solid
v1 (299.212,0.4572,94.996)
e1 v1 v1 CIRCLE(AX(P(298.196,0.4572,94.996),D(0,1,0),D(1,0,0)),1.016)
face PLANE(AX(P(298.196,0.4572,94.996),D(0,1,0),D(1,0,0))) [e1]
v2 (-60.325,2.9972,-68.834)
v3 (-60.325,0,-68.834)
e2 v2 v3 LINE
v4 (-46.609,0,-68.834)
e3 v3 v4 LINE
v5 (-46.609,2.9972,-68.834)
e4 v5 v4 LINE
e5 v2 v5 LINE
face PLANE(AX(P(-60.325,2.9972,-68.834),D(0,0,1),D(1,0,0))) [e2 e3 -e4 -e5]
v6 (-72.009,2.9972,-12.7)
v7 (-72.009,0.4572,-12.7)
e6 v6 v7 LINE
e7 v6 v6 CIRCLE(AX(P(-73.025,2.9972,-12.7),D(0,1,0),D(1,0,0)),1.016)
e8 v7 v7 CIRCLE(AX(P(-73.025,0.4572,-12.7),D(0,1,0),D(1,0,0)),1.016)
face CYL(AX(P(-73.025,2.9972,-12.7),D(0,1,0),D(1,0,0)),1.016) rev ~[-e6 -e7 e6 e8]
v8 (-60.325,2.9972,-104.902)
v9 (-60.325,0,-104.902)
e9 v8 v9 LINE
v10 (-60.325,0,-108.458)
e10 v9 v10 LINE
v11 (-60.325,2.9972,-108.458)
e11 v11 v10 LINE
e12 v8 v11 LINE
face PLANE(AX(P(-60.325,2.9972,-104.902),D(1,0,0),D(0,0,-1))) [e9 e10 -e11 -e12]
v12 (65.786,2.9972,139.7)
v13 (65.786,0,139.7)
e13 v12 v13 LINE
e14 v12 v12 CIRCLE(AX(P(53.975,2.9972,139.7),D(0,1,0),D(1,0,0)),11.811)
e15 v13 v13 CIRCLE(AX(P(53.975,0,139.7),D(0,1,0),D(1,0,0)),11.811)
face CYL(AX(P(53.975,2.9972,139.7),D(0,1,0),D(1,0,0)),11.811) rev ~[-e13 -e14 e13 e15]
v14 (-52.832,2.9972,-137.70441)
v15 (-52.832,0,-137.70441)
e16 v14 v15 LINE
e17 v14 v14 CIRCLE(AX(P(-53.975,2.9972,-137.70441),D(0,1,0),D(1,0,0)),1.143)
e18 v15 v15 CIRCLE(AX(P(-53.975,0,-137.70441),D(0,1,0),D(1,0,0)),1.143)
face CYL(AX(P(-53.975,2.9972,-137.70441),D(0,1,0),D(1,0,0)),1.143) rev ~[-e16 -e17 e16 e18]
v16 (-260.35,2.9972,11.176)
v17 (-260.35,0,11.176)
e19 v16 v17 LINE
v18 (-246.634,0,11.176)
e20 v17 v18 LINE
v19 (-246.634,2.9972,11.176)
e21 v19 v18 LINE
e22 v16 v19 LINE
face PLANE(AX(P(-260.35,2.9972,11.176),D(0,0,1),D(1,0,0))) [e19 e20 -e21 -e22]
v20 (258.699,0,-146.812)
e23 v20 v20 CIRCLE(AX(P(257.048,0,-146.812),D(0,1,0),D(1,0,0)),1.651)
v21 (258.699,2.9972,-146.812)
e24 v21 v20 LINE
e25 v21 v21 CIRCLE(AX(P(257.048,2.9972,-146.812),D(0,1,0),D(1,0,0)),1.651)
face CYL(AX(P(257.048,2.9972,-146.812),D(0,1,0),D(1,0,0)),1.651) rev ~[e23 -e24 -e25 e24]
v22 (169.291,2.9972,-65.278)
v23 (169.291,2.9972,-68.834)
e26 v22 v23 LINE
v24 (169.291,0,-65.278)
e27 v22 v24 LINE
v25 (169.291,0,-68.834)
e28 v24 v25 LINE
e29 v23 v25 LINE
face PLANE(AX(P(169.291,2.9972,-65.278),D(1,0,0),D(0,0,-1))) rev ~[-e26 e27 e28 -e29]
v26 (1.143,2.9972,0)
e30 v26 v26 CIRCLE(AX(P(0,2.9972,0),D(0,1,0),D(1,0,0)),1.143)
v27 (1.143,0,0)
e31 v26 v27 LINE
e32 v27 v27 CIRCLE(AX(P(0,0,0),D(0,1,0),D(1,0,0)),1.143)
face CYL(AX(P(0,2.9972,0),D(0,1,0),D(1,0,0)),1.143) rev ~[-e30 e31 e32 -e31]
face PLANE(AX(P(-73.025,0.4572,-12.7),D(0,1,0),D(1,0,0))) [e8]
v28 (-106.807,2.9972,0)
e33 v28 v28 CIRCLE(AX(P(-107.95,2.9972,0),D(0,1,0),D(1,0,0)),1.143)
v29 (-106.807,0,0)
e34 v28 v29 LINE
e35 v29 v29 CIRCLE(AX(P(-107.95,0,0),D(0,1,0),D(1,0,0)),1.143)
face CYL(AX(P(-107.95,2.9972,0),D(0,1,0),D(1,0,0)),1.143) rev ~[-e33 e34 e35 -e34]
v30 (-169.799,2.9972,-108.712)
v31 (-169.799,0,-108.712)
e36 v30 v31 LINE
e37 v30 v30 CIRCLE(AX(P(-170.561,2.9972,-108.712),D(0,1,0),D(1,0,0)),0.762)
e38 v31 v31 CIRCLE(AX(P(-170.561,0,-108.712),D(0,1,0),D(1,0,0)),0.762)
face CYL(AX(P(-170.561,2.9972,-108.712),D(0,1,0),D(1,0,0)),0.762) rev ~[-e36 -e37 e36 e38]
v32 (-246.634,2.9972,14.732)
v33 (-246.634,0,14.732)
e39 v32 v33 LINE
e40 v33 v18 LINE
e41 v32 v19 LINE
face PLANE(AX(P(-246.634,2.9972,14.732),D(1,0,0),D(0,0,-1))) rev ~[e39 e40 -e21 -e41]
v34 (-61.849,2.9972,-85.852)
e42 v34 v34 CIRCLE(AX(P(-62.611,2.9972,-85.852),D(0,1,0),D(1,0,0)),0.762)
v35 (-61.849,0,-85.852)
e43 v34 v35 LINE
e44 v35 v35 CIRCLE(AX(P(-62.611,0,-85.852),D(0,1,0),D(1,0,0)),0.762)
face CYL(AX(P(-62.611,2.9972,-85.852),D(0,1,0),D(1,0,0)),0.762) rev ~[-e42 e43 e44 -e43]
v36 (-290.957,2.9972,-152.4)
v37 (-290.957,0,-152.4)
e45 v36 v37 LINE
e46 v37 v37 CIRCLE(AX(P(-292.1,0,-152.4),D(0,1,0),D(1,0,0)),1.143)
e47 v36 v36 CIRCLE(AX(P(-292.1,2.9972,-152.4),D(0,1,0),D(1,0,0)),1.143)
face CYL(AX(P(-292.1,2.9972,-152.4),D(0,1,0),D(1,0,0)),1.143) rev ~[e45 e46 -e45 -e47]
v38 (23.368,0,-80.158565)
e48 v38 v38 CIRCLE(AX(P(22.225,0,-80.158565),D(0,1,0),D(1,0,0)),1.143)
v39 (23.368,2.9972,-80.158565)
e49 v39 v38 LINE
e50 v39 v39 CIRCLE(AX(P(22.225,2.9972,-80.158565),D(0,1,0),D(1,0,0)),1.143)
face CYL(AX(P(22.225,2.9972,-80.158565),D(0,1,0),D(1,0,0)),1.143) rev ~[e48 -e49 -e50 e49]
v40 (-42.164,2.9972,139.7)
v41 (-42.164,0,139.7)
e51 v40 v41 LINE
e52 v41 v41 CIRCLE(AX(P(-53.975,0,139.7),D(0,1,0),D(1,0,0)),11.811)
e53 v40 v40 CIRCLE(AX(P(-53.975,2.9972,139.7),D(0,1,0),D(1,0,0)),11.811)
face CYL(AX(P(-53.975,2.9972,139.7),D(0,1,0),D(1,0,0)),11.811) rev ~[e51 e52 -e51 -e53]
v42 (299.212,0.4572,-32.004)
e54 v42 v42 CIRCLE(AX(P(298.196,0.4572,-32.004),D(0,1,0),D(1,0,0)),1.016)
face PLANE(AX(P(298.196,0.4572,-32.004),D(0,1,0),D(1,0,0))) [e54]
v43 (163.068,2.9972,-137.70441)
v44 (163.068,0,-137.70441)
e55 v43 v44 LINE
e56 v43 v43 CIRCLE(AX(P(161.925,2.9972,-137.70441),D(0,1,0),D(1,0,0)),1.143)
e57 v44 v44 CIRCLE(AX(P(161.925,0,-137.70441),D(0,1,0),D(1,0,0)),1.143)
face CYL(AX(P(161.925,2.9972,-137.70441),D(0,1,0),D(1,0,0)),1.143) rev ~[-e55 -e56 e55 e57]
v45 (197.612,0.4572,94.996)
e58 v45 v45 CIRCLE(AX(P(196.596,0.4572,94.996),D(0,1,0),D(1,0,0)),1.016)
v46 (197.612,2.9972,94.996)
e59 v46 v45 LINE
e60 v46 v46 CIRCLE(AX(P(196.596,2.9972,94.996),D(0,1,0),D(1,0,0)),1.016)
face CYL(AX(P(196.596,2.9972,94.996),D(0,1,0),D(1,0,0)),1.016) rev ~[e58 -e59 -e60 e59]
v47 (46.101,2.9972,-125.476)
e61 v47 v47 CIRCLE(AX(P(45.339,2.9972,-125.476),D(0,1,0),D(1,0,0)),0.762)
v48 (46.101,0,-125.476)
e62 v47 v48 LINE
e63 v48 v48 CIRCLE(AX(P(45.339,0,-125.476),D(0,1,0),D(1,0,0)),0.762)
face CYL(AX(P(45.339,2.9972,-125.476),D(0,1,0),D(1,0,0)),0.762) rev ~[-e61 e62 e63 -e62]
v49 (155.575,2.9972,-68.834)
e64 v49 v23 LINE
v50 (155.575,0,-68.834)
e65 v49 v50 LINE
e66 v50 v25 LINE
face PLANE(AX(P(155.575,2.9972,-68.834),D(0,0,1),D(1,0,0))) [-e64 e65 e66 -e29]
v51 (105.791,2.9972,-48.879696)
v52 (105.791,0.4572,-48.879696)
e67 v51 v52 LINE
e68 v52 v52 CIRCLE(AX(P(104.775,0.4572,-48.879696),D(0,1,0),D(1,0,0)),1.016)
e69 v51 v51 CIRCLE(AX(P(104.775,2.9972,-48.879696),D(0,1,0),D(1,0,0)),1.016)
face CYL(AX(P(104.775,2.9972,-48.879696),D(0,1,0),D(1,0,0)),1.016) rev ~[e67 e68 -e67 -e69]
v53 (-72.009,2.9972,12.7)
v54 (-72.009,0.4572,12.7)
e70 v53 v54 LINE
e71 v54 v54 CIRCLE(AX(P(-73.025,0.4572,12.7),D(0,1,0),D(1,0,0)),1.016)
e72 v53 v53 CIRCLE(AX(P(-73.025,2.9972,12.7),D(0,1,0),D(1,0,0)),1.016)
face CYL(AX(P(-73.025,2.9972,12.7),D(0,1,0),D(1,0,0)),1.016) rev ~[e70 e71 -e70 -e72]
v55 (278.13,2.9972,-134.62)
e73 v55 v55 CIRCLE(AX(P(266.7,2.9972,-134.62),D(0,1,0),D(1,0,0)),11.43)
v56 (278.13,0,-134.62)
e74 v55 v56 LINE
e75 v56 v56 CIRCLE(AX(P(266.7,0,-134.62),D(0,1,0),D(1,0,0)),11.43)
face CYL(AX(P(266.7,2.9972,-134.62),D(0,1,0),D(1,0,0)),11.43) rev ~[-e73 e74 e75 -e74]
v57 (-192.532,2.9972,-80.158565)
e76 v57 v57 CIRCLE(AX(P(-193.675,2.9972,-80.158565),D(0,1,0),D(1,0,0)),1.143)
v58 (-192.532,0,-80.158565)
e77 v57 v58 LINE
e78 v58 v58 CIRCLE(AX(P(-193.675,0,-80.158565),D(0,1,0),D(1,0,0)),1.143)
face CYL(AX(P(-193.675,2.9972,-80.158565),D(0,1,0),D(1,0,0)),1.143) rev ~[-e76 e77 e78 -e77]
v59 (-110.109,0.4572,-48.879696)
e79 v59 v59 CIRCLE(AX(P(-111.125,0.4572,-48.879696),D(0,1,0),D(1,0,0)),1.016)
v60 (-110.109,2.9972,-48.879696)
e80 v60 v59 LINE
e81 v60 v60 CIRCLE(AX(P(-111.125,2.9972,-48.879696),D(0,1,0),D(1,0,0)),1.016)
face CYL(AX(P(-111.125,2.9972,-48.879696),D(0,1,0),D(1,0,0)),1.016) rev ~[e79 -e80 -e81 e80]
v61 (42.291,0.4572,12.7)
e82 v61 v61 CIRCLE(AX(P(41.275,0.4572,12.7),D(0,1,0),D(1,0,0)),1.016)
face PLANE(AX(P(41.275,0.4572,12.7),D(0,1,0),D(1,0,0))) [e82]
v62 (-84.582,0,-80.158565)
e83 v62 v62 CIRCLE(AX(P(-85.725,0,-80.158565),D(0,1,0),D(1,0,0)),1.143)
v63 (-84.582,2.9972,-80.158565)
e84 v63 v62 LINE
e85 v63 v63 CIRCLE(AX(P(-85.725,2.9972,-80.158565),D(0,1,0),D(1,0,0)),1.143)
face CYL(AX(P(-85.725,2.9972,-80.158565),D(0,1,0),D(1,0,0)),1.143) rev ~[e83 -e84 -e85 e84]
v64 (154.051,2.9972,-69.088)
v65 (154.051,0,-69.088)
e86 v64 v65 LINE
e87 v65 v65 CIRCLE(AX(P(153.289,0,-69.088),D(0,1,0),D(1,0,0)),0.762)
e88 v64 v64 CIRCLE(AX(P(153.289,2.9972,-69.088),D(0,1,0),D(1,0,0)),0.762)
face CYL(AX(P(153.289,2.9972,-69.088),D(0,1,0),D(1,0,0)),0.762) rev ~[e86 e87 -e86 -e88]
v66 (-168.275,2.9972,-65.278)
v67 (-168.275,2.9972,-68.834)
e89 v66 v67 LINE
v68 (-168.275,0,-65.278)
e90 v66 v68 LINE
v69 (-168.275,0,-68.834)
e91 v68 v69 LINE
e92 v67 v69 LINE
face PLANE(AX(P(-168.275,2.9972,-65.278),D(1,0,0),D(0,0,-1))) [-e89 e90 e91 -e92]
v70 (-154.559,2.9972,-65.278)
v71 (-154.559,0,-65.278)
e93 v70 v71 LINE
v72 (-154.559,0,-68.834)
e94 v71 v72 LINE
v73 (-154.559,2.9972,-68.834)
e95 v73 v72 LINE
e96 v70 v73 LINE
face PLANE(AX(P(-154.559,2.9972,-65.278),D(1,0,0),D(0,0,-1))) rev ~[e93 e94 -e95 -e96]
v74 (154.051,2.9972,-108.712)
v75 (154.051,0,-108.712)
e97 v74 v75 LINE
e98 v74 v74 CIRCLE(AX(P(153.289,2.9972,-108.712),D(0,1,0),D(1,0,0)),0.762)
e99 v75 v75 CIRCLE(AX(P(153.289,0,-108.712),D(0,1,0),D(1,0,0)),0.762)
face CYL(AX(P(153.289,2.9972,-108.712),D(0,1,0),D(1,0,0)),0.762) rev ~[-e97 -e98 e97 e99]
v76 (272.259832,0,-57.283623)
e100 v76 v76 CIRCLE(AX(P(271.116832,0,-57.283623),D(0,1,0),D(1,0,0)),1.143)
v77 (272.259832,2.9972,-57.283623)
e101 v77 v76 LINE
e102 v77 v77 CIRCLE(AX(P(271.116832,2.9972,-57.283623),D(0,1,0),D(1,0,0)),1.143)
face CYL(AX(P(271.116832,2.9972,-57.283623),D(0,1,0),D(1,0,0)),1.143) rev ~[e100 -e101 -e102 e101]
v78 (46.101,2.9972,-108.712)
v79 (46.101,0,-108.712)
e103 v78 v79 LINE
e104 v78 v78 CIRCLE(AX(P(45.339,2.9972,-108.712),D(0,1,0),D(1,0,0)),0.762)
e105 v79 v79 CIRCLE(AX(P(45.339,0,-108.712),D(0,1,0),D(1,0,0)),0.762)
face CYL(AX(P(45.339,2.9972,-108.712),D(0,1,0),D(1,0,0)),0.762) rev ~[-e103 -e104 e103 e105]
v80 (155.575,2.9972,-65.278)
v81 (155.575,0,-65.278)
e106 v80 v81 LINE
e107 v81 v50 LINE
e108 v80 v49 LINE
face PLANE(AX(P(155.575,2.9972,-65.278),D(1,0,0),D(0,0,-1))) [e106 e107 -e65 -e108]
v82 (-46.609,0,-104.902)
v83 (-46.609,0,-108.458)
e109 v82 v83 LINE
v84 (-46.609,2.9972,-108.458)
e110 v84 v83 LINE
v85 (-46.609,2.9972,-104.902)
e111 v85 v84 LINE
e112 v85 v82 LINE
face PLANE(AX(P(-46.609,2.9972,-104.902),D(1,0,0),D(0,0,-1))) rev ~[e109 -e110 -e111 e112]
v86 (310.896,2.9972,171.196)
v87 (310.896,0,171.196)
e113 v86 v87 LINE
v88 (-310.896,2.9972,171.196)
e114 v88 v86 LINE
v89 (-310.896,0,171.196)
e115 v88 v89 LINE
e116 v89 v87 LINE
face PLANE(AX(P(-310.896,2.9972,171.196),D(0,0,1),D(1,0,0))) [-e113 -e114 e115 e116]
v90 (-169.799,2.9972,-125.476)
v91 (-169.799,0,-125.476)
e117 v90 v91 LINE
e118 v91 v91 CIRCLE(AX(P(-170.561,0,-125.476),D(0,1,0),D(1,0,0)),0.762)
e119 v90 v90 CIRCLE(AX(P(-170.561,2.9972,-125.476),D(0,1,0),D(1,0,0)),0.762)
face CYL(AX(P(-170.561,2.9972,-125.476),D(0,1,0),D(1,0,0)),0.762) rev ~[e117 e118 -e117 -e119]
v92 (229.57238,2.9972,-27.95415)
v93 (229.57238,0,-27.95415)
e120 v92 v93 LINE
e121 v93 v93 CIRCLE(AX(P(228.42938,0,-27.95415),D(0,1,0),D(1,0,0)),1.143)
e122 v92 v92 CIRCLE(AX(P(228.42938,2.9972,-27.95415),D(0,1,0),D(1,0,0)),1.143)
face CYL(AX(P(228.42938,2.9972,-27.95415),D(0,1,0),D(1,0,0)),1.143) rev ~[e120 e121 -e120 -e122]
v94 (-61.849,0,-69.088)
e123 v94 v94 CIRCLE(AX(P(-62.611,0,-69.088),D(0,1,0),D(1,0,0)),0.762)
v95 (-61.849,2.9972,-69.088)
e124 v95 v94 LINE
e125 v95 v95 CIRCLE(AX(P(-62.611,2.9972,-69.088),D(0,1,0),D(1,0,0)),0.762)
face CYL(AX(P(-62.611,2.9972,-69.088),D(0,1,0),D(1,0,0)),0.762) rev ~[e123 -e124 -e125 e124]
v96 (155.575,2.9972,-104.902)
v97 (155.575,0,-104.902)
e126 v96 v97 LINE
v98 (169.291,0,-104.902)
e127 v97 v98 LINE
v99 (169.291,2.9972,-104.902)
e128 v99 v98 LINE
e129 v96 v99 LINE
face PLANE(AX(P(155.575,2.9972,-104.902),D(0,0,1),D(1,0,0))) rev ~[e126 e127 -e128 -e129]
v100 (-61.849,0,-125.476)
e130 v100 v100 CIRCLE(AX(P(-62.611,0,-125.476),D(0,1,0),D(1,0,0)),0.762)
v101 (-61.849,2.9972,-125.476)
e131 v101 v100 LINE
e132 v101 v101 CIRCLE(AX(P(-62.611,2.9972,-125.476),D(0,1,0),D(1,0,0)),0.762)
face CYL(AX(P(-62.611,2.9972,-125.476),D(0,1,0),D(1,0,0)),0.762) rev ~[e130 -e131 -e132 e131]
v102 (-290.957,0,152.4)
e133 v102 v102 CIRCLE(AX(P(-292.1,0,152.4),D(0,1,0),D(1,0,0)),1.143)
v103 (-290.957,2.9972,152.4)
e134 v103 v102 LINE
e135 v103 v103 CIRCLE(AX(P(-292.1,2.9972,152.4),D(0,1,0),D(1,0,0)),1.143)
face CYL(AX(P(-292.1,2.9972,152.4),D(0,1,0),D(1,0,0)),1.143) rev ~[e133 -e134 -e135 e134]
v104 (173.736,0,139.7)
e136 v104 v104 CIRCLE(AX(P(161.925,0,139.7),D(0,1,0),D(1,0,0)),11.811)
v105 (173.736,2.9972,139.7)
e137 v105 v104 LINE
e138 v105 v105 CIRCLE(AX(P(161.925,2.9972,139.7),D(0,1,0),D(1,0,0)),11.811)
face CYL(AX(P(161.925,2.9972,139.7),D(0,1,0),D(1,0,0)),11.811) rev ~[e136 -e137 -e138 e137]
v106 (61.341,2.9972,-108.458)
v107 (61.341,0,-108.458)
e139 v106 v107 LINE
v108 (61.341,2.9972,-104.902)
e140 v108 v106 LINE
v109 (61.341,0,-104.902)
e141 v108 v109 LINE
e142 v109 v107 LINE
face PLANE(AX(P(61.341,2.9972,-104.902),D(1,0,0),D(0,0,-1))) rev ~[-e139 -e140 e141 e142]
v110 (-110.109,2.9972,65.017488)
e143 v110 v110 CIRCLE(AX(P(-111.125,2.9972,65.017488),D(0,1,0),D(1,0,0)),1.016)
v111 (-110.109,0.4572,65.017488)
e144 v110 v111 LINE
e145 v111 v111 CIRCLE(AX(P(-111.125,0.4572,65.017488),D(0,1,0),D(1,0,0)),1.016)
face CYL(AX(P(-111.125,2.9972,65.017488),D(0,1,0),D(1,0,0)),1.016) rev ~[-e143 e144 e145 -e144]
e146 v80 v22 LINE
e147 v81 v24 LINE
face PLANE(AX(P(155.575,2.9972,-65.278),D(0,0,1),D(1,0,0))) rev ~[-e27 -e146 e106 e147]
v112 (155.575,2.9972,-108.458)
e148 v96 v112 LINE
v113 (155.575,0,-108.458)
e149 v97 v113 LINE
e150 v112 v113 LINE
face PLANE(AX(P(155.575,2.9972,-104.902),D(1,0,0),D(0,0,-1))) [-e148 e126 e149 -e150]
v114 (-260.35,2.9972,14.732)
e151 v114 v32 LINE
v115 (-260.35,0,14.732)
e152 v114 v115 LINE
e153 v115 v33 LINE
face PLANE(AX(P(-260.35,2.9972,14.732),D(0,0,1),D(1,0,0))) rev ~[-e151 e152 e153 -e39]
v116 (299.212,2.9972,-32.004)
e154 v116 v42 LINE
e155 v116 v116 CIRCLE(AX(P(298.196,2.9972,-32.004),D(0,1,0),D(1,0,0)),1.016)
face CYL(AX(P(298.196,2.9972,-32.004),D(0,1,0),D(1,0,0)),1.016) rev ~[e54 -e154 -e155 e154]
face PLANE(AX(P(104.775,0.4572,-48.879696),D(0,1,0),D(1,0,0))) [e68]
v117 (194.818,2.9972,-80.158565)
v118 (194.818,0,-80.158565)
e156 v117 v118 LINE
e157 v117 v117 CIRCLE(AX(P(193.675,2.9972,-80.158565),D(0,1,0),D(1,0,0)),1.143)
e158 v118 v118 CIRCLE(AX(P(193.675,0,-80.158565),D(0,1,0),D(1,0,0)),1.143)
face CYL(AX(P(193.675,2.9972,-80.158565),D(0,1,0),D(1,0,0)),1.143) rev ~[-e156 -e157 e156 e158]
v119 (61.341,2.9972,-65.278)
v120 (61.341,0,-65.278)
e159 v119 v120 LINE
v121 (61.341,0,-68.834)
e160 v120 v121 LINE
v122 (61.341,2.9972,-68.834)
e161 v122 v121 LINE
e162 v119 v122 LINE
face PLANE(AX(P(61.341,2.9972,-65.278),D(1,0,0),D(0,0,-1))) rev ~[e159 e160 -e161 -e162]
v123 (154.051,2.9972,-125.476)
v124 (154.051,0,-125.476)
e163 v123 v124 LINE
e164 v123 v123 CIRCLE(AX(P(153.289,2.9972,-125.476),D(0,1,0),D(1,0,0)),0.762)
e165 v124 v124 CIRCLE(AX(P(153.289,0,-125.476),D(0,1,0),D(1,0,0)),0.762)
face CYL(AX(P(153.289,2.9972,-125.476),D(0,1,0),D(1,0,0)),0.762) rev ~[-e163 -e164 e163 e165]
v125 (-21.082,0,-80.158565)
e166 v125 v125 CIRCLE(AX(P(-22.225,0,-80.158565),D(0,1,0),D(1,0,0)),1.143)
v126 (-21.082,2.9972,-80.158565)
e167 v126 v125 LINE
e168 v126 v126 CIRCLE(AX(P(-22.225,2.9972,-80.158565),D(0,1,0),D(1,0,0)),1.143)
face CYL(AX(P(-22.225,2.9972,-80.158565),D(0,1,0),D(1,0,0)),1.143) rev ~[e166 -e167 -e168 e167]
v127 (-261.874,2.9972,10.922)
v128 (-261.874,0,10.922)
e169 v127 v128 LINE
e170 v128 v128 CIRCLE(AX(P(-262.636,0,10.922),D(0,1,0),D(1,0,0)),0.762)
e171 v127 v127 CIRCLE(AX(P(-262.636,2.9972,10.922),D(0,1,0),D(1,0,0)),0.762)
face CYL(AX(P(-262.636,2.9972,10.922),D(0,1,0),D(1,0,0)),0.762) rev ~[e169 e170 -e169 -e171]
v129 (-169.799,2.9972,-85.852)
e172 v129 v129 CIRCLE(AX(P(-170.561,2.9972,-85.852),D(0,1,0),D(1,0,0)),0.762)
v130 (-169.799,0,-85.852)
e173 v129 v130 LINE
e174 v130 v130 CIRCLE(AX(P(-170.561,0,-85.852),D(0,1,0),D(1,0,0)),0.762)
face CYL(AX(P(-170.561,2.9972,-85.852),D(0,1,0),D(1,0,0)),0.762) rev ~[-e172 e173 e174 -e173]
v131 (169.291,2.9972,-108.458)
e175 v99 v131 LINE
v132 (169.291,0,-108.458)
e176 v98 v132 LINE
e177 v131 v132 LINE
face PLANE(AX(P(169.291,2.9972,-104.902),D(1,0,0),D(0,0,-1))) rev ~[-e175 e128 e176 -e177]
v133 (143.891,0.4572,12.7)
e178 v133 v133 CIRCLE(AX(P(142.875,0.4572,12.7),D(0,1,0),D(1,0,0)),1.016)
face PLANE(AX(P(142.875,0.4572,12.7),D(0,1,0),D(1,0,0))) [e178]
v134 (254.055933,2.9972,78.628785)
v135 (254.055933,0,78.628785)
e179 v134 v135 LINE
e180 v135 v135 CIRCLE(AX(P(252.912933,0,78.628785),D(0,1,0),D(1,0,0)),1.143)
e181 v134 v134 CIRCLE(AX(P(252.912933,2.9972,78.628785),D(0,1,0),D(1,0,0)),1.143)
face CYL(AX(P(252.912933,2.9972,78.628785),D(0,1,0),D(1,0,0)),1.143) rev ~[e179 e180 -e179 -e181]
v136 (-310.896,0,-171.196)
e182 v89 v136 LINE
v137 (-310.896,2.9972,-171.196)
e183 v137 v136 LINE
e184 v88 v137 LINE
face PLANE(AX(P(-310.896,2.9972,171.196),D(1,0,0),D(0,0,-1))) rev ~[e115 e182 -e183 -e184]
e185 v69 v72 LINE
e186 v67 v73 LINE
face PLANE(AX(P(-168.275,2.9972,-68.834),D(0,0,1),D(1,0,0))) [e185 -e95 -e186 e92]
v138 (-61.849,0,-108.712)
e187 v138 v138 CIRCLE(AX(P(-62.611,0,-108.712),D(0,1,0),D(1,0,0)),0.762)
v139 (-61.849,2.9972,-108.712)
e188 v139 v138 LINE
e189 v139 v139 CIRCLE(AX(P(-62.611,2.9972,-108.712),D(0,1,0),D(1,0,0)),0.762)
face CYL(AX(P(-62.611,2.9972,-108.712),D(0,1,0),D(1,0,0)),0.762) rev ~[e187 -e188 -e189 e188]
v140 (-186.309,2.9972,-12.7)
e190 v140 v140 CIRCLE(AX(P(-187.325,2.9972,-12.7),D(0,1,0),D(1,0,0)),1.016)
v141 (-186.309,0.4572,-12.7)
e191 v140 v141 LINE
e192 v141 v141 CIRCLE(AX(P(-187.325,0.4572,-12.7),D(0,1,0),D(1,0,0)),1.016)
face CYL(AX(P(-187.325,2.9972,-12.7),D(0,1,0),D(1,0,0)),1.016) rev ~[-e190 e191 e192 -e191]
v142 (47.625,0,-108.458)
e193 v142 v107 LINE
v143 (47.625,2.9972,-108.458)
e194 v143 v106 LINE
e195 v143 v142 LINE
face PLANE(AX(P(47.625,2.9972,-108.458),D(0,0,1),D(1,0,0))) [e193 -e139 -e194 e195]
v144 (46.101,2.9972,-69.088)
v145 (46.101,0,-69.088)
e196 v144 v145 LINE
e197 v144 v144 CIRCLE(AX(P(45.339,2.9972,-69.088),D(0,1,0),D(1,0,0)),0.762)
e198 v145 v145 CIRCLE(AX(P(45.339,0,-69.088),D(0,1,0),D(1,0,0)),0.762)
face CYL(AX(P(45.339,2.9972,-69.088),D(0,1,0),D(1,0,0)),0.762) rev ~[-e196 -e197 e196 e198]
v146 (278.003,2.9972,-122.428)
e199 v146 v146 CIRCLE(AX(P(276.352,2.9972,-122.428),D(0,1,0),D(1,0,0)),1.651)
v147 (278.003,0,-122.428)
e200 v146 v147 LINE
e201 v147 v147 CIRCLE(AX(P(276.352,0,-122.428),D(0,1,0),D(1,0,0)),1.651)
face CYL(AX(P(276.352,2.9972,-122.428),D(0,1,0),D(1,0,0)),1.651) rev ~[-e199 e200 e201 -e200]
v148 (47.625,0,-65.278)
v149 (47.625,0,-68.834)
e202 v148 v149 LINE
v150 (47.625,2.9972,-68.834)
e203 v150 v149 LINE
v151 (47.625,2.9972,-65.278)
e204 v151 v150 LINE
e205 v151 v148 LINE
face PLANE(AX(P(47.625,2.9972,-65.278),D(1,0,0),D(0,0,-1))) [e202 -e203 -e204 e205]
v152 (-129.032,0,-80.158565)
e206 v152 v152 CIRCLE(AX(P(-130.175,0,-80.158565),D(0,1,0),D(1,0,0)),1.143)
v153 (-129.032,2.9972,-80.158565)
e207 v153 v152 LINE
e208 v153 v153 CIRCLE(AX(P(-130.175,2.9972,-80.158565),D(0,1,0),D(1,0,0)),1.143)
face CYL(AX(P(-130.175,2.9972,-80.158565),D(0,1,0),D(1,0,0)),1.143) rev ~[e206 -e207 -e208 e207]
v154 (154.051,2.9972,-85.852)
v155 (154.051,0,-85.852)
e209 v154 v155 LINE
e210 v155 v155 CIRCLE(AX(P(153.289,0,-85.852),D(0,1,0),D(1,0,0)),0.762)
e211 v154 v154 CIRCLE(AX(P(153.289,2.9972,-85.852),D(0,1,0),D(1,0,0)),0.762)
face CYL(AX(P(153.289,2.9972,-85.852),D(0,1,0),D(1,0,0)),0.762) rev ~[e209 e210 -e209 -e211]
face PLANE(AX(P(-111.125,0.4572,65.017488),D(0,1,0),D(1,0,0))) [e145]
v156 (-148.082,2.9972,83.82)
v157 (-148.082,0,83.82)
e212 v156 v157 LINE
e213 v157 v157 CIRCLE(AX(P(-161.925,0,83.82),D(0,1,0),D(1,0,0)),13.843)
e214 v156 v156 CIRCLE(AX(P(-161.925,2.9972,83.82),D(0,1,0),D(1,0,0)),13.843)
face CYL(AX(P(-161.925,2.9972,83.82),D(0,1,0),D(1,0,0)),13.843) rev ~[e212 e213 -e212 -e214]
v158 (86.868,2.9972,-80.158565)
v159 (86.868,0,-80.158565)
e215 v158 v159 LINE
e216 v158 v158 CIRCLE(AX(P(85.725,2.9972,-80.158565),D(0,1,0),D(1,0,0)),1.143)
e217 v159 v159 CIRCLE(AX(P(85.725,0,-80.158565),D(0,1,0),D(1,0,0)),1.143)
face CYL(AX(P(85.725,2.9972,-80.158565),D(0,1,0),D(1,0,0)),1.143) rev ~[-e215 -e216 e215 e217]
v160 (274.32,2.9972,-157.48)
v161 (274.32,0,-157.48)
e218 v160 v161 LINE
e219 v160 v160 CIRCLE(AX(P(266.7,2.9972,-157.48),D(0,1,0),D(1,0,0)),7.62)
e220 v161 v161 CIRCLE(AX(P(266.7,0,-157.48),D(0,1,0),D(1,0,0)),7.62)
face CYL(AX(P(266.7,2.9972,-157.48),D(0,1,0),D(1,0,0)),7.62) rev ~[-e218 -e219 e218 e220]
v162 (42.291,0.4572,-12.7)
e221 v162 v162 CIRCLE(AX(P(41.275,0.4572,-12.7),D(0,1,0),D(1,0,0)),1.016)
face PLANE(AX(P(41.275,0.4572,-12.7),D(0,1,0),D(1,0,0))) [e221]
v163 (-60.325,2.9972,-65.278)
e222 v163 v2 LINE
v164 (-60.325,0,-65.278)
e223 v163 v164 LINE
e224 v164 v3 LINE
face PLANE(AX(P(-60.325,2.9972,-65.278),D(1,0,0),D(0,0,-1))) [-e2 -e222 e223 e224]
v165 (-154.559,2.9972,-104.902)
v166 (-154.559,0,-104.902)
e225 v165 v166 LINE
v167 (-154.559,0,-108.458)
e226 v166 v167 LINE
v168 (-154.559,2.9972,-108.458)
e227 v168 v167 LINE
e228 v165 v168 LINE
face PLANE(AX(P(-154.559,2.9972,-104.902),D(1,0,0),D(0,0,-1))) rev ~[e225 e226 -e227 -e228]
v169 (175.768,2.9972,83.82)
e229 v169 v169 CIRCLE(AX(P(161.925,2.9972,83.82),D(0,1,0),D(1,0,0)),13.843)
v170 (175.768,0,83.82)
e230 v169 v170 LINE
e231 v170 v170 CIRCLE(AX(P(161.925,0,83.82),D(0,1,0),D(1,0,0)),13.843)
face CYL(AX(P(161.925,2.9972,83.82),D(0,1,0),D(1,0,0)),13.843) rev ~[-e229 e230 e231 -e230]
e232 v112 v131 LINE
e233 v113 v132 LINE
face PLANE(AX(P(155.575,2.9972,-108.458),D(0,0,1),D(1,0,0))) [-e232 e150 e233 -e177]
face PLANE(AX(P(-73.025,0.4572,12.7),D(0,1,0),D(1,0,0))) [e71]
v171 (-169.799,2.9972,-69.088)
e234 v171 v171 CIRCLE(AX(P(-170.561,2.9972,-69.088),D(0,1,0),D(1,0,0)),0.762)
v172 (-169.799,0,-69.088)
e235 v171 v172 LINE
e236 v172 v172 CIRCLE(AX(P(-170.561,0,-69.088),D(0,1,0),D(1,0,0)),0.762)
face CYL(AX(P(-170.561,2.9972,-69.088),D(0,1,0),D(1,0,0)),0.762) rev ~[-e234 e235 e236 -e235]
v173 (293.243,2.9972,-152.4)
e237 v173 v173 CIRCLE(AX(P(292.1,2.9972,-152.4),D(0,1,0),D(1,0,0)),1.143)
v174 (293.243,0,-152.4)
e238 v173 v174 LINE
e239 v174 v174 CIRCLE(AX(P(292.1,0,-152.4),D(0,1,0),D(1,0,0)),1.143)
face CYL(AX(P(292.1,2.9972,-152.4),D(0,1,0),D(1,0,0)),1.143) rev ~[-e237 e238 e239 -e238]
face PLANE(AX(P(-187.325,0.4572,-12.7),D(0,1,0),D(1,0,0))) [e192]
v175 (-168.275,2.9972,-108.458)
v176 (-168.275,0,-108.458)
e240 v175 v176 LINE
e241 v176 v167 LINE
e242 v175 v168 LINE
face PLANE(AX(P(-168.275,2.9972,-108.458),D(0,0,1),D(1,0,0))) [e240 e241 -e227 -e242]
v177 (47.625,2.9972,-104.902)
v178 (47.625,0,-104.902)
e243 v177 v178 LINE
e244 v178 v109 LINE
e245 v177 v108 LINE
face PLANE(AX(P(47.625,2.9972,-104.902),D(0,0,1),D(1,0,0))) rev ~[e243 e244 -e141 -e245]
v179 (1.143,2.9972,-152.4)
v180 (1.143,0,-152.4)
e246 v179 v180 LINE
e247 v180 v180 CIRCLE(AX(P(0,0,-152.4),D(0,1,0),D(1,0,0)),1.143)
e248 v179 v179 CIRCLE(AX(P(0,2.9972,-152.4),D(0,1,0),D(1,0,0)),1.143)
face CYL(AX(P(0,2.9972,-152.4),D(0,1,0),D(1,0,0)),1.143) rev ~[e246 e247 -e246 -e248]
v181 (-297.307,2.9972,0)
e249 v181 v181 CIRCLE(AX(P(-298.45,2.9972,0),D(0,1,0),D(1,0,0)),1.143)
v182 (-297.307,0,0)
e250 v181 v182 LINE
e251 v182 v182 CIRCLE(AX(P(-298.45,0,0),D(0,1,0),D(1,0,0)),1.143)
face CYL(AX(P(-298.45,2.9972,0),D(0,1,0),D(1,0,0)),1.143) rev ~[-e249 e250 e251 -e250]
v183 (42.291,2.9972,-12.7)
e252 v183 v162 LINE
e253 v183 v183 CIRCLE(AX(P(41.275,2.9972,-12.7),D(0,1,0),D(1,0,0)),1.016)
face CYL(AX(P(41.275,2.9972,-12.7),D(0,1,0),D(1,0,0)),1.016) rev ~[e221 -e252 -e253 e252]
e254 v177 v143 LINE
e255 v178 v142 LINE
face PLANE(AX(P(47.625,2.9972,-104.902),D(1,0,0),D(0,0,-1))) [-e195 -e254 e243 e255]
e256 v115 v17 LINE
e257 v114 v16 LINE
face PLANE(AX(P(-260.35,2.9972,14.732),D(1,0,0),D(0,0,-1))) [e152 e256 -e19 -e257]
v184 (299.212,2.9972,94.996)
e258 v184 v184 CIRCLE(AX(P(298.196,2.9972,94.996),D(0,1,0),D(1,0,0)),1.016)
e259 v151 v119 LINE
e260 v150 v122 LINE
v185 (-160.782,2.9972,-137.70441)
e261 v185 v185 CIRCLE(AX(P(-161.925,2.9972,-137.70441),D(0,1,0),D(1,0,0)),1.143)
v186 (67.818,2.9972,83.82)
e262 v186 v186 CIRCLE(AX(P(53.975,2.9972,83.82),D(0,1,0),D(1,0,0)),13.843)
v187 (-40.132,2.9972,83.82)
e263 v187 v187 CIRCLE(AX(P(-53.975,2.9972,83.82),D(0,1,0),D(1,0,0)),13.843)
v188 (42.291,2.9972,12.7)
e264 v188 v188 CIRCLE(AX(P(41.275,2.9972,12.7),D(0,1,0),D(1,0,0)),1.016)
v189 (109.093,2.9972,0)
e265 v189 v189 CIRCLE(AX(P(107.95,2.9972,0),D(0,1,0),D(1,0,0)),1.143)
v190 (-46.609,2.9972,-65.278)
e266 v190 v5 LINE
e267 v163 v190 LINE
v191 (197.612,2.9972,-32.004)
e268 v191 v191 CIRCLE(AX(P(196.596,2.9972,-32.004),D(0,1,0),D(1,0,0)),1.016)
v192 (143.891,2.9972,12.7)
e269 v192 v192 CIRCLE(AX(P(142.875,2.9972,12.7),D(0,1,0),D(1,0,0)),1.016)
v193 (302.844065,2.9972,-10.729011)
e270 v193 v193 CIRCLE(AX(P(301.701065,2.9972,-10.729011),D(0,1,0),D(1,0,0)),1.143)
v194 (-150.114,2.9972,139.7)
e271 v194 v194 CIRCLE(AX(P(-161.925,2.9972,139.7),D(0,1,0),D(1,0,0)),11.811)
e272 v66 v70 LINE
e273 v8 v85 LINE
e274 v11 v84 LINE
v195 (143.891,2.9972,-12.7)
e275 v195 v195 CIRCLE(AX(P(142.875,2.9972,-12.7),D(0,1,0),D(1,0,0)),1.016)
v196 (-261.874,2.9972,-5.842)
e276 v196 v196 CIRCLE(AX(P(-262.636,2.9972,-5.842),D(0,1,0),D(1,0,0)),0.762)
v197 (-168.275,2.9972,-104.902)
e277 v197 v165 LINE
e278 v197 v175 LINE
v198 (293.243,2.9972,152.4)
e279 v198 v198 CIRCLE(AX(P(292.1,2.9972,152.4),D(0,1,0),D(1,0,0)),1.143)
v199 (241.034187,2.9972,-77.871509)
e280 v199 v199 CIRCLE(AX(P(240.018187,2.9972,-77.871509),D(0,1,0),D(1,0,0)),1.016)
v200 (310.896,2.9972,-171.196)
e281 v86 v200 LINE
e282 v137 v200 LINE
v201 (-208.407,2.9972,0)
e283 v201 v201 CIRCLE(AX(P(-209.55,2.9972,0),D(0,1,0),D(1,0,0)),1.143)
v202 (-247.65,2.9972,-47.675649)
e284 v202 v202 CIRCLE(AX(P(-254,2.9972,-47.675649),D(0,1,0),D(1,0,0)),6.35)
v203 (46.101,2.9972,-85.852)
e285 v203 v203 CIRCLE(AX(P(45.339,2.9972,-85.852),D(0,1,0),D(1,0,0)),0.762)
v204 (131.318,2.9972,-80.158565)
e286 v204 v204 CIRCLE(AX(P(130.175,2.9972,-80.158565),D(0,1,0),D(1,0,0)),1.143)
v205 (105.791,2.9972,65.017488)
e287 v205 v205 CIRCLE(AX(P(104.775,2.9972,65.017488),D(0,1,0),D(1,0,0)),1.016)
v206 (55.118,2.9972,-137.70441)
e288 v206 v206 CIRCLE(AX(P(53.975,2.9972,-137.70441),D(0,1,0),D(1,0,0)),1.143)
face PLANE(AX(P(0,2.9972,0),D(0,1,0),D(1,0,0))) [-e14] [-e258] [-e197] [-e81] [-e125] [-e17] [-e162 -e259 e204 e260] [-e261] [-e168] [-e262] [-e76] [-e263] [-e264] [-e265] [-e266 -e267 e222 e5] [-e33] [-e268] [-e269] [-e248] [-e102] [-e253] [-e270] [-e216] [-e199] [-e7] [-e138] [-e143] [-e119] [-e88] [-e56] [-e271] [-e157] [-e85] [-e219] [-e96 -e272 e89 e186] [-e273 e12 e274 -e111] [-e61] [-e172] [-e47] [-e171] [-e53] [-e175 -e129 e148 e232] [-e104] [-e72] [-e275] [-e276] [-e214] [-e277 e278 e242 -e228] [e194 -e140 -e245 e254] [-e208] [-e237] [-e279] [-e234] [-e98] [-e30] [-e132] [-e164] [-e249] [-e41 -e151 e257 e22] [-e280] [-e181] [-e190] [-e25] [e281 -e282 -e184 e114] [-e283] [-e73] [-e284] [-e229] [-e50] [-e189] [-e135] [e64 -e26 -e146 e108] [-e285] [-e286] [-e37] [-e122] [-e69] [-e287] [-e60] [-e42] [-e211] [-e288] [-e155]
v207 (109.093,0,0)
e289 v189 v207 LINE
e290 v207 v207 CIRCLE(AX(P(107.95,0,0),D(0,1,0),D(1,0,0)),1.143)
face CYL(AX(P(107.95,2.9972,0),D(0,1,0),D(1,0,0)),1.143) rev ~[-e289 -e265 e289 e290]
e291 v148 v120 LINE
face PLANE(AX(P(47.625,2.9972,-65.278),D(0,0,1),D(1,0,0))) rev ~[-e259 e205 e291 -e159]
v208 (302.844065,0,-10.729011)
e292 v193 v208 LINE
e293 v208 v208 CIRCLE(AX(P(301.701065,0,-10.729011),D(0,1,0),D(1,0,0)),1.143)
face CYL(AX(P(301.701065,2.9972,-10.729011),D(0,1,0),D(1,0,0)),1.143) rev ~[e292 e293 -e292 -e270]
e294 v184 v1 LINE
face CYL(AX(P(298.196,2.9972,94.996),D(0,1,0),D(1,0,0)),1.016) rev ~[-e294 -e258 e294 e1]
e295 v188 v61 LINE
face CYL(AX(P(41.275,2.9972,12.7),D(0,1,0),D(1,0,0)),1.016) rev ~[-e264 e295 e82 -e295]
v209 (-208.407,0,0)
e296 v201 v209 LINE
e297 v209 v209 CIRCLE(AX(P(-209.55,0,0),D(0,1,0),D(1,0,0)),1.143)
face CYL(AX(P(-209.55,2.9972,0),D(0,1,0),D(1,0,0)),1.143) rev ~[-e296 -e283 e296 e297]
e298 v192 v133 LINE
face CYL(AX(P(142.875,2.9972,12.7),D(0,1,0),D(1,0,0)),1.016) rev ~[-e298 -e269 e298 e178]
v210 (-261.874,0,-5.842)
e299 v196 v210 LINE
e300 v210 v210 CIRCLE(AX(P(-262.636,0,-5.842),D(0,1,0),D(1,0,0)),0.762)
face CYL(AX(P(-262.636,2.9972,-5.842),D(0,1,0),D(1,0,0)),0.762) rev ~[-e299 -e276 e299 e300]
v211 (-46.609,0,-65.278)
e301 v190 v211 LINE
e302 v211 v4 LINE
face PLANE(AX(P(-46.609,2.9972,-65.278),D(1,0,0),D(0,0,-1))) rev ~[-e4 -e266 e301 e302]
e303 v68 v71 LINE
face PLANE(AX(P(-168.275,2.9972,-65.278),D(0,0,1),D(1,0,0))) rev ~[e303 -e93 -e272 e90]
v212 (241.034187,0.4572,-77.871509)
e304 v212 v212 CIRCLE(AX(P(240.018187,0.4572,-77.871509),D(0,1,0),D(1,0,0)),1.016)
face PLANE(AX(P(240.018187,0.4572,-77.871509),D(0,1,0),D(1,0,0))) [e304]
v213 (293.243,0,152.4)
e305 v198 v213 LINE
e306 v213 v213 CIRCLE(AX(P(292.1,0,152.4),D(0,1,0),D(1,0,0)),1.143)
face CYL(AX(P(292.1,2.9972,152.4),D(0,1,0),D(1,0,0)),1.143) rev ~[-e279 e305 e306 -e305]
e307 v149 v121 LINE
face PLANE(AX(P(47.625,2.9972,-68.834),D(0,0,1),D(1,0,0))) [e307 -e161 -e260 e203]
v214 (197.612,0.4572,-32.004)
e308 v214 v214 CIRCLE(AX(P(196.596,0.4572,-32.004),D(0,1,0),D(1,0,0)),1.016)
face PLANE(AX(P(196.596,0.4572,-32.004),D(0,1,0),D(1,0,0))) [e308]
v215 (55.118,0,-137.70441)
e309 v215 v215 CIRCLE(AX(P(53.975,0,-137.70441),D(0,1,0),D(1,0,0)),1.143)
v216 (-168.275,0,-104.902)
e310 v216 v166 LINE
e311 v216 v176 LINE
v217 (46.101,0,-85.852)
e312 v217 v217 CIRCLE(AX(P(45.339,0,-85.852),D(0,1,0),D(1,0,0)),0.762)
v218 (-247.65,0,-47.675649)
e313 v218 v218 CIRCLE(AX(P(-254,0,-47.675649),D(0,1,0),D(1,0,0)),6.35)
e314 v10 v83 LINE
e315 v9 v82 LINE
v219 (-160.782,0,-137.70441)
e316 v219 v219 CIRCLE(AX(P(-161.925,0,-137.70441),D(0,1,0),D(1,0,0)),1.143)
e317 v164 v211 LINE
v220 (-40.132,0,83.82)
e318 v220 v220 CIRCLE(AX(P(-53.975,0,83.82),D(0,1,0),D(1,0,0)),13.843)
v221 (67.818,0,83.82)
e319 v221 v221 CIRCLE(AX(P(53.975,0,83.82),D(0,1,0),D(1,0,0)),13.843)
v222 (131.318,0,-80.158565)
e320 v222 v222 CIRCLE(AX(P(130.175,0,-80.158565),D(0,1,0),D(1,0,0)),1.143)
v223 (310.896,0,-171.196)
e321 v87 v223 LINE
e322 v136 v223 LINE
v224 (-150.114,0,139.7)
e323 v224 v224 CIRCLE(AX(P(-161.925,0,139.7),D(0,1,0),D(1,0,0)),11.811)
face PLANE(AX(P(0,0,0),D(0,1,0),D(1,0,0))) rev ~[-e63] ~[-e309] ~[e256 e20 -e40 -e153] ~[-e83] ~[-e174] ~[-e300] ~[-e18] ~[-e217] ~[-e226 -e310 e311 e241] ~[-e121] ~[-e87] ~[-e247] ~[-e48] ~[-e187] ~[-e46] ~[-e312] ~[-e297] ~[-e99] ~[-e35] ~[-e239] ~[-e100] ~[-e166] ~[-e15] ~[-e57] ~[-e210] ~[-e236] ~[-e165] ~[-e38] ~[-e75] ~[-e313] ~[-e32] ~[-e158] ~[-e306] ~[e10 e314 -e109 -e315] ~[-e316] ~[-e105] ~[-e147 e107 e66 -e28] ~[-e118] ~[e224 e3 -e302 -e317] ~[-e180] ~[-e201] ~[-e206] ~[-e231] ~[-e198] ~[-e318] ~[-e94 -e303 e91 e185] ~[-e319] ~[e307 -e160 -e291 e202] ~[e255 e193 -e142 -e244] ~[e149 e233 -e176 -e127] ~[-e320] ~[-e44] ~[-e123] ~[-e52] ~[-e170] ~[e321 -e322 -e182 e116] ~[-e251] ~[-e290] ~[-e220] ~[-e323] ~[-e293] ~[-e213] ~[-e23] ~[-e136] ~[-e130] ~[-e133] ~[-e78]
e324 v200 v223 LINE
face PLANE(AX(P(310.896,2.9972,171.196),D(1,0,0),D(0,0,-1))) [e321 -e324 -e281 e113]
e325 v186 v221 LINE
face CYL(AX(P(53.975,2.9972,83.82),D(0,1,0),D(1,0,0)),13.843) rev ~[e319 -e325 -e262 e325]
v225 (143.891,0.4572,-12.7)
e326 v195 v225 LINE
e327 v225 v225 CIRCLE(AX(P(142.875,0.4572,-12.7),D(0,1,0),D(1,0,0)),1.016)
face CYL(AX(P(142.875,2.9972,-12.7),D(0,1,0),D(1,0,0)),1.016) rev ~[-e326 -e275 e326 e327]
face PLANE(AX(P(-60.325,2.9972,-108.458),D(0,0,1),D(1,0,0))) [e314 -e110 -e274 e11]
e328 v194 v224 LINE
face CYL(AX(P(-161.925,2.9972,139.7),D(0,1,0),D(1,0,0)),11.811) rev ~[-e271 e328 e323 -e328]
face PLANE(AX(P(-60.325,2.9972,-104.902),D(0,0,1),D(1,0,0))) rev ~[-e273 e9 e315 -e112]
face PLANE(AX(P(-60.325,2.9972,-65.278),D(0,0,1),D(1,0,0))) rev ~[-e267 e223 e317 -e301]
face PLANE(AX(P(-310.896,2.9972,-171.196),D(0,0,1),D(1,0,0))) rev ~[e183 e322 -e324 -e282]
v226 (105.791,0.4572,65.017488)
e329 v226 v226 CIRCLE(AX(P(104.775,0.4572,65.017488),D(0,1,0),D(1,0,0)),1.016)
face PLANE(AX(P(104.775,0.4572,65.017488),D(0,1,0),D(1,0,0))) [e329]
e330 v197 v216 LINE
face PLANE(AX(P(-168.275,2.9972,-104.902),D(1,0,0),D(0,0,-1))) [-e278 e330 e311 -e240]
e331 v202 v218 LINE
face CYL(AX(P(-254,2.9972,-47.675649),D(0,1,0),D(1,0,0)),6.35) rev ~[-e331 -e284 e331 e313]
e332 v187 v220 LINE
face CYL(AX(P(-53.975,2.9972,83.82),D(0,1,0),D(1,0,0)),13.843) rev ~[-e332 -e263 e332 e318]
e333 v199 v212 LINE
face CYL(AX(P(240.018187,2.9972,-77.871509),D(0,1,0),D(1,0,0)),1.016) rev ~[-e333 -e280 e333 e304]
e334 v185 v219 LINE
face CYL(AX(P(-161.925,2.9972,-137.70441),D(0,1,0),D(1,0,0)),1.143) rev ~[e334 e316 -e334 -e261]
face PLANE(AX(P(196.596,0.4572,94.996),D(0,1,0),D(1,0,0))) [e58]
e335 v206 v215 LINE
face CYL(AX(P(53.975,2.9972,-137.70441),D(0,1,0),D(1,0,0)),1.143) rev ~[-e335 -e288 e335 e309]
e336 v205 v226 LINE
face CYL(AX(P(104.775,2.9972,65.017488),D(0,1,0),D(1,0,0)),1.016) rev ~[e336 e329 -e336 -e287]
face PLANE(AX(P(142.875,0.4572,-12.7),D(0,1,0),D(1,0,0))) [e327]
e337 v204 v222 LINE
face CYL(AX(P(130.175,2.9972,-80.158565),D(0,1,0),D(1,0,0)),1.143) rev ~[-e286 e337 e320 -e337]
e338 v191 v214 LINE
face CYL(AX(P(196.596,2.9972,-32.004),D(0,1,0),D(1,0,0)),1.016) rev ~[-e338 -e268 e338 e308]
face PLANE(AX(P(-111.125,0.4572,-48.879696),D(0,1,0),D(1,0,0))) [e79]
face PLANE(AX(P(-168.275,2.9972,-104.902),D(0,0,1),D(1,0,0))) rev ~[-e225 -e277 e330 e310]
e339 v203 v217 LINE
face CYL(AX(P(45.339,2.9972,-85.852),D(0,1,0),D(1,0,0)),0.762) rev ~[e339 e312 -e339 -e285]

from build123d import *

# Parameters (mm, degrees)
SKETCH1_W                     = 660.4
SKETCH1_H                     = 381
SHEET_DEPTH                   = 2.9972
SKETCH2_7_W                   = 13.716
SKETCH2_7_H                   = 3.556
SKETCH2_7_R                   = 11.811
SKETCH2_7_R_2                 = 13.843
SKETCH2_7_R_3                 = 0.762
CHANNEL_CONTROLS_BOTTOM_DEPTH = 382.223390164
LPATTERN1_COUNT               = 4
LPATTERN1_PITCH               = 107.95
SKETCH5_5_W                   = 13.716
SKETCH5_5_H                   = 3.556
SKETCH5_5_R                   = 0.762
CUT_EXTRUDE2_DEPTH            = 382.223390164
SKETCH6_R                     = 7.62
SKETCH6_R_2                   = 11.43
SKETCH6_R_3                   = 1.651
MIC_ROUTING_BOTTOM_DEPTH      = 382.223390164
SKETCH16_R                    = 6.35
WIRING_PATH_INPUT_DEPTH       = 382.223390164
SKETCH18_R                    = 1.143
INSIDE_SCREW_HOLES_DEPTH      = 382.223390164
SKETCH17_W                    = 660.4
SKETCH17_H                    = 381
SKETCH17_W_2                  = 621.792
SKETCH17_H_2                  = 342.392
CUT_IN_EDGES_DEPTH            = 382.223390164
SKETCH19_R                    = 1.016
PCB_MOUNT_DEPTH               = 2.54
SKETCH20_R                    = 1.016
CABLE_MANAGEMENT_DEPTH        = 2.54


with BuildPart() as part:
    # Sketch1 → Sheet (new body)
    with BuildSketch(Plane(origin=(0, 0, 0), x_dir=(1, 0, 0), z_dir=(0, 1, 0))):
        Rectangle(SKETCH1_W, SKETCH1_H)
    extrude(amount=SHEET_DEPTH)

    # Sketch2<7> → Channel Controls - Bottom (cut, through all)
    with BuildSketch(Plane(origin=(0, 2.9972, 0), x_dir=(1, 0, 0), z_dir=(0, 1, 0))):
        with Locations((-161.417, 106.68)):
            Rectangle(SKETCH2_7_W, SKETCH2_7_H)
        with Locations((-161.417, 67.056)):
            Rectangle(SKETCH2_7_W, SKETCH2_7_H)
        with Locations((-161.925, -139.7)):
            Circle(SKETCH2_7_R)
        with Locations((-161.925, -83.82)):
            Circle(SKETCH2_7_R_2)
        with Locations((-170.561, 125.476)):
            Circle(SKETCH2_7_R_3)
        with Locations((-170.561, 108.712)):
            Circle(SKETCH2_7_R_3)
        with Locations((-170.561, 85.852)):
            Circle(SKETCH2_7_R_3)
        with Locations((-170.561, 69.088)):
            Circle(SKETCH2_7_R_3)
    channel_controls_bottom = extrude(amount=-CHANNEL_CONTROLS_BOTTOM_DEPTH, mode=Mode.SUBTRACT)

    # LPattern1: Channel Controls - Bottom ×4
    with Locations(*[(i * LPATTERN1_PITCH, 0, 0) for i in range(1, LPATTERN1_COUNT)]):
        add(channel_controls_bottom, mode=Mode.SUBTRACT)

    # Sketch5<5> → Cut-Extrude2 (cut, through all)
    with BuildSketch(Plane(origin=(0, 2.9972, 0), x_dir=(1, 0, 0), z_dir=(0, 1, 0))):
        with Locations((-253.492, -12.954)):
            Rectangle(SKETCH5_5_W, SKETCH5_5_H)
        with Locations((-262.636, 5.842)):
            Circle(SKETCH5_5_R)
        with Locations((-262.636, -10.922)):
            Circle(SKETCH5_5_R)
    extrude(amount=-CUT_EXTRUDE2_DEPTH, mode=Mode.SUBTRACT)

    # Sketch6 → Mic - Routing/Bottom (cut, through all)
    with BuildSketch(Plane(origin=(0, 2.9972, 0), x_dir=(1, 0, 0), z_dir=(0, 1, 0))):
        with Locations((266.7, 157.48)):
            Circle(SKETCH6_R)
        with Locations((266.7, 134.62)):
            Circle(SKETCH6_R_2)
        with Locations((257.048, 146.812)):
            Circle(SKETCH6_R_3)
        with Locations((276.352, 122.428)):
            Circle(SKETCH6_R_3)
    extrude(amount=-MIC_ROUTING_BOTTOM_DEPTH, mode=Mode.SUBTRACT)

    # Sketch16 → Wiring Path Input (cut, through all)
    with BuildSketch(Plane(origin=(0, 2.9972, 0), x_dir=(1, 0, 0), z_dir=(0, 1, 0))):
        with Locations((-254, 47.675648725)):
            Circle(SKETCH16_R)
    extrude(amount=-WIRING_PATH_INPUT_DEPTH, mode=Mode.SUBTRACT)

    # Sketch18 → Inside Screw Holes (cut, through all)
    with BuildSketch(Plane(origin=(0, 2.9972, 0), x_dir=(1, 0, 0), z_dir=(0, 1, 0))):
        with Locations((-193.675, 80.158564581)):
            Circle(SKETCH18_R)
        with Locations((-161.925, 137.7044104)):
            Circle(SKETCH18_R)
        with Locations((-298.45, 0)):
            Circle(SKETCH18_R)
        with Locations((-209.55, 0)):
            Circle(SKETCH18_R)
        with Locations((-107.95, 0)):
            Circle(SKETCH18_R)
        with Locations((-292.1, 152.4)):
            Circle(SKETCH18_R)
        with Locations((0, 152.4)):
            Circle(SKETCH18_R)
        with Locations((-130.175, 80.158564581)):
            Circle(SKETCH18_R)
        with Locations((301.701065048, 10.72901122)):
            Circle(SKETCH18_R)
        with Locations((228.429380072, 27.954149694)):
            Circle(SKETCH18_R)
        with Locations((271.116831878, 57.283623384)):
            Circle(SKETCH18_R)
        with Locations((292.1, 152.4)):
            Circle(SKETCH18_R)
        Circle(SKETCH18_R)
        with Locations((107.95, 0)):
            Circle(SKETCH18_R)
        with Locations((252.912933296, -78.628784773)):
            Circle(SKETCH18_R)
        with Locations((292.1, -152.4)):
            Circle(SKETCH18_R)
        with Locations((-292.1, -152.4)):
            Circle(SKETCH18_R)
        with Locations((-53.975, 137.7044104)):
            Circle(SKETCH18_R)
        with Locations((-85.725, 80.158564581)):
            Circle(SKETCH18_R)
        with Locations((-22.225, 80.158564581)):
            Circle(SKETCH18_R)
        with Locations((53.975, 137.7044104)):
            Circle(SKETCH18_R)
        with Locations((22.225, 80.158564581)):
            Circle(SKETCH18_R)
        with Locations((85.725, 80.158564581)):
            Circle(SKETCH18_R)
        with Locations((161.925, 137.7044104)):
            Circle(SKETCH18_R)
        with Locations((130.175, 80.158564581)):
            Circle(SKETCH18_R)
        with Locations((193.675, 80.158564581)):
            Circle(SKETCH18_R)
    extrude(amount=-INSIDE_SCREW_HOLES_DEPTH, mode=Mode.SUBTRACT)

    # Sketch17 → Cut In Edges (cut, through all)
    with BuildSketch(Plane(origin=(0, 2.9972, 0), x_dir=(1, 0, 0), z_dir=(0, 1, 0))):
        Rectangle(SKETCH17_W, SKETCH17_H)
        Rectangle(SKETCH17_W_2, SKETCH17_H_2, mode=Mode.SUBTRACT)
    extrude(amount=-CUT_IN_EDGES_DEPTH, mode=Mode.SUBTRACT)

    # Sketch19 → PCB Mount (cut)
    with BuildSketch(Plane(origin=(0, 2.9972, 0), x_dir=(1, 0, 0), z_dir=(0, 1, 0))):
        with Locations((196.596, -94.996)):
            Circle(SKETCH19_R)
        with Locations((298.196, -94.996)):
            Circle(SKETCH19_R)
        with Locations((196.596, 32.004)):
            Circle(SKETCH19_R)
        with Locations((298.196, 32.004)):
            Circle(SKETCH19_R)
    extrude(amount=-PCB_MOUNT_DEPTH, mode=Mode.SUBTRACT)

    # Sketch20 → Cable Management (cut)
    with BuildSketch(Plane(origin=(0, 2.9972, 0), x_dir=(1, 0, 0), z_dir=(0, 1, 0))):
        with Locations((-111.125, 48.879696065)):
            Circle(SKETCH20_R)
        with Locations((104.775, 48.879696065)):
            Circle(SKETCH20_R)
        with Locations((104.775, -65.017488446)):
            Circle(SKETCH20_R)
        with Locations((-111.125, -65.017488446)):
            Circle(SKETCH20_R)
        with Locations((-73.025, 12.7)):
            Circle(SKETCH20_R)
        with Locations((-187.325, 12.7)):
            Circle(SKETCH20_R)
        with Locations((142.875, 12.7)):
            Circle(SKETCH20_R)
        with Locations((240.018187339, 77.871508946)):
            Circle(SKETCH20_R)
        with Locations((41.275, 12.7)):
            Circle(SKETCH20_R)
        with Locations((142.875, -12.7)):
            Circle(SKETCH20_R)
        with Locations((41.275, -12.7)):
            Circle(SKETCH20_R)
        with Locations((-73.025, -12.7)):
            Circle(SKETCH20_R)
    extrude(amount=-CABLE_MANAGEMENT_DEPTH, mode=Mode.SUBTRACT)


solid = part.part
